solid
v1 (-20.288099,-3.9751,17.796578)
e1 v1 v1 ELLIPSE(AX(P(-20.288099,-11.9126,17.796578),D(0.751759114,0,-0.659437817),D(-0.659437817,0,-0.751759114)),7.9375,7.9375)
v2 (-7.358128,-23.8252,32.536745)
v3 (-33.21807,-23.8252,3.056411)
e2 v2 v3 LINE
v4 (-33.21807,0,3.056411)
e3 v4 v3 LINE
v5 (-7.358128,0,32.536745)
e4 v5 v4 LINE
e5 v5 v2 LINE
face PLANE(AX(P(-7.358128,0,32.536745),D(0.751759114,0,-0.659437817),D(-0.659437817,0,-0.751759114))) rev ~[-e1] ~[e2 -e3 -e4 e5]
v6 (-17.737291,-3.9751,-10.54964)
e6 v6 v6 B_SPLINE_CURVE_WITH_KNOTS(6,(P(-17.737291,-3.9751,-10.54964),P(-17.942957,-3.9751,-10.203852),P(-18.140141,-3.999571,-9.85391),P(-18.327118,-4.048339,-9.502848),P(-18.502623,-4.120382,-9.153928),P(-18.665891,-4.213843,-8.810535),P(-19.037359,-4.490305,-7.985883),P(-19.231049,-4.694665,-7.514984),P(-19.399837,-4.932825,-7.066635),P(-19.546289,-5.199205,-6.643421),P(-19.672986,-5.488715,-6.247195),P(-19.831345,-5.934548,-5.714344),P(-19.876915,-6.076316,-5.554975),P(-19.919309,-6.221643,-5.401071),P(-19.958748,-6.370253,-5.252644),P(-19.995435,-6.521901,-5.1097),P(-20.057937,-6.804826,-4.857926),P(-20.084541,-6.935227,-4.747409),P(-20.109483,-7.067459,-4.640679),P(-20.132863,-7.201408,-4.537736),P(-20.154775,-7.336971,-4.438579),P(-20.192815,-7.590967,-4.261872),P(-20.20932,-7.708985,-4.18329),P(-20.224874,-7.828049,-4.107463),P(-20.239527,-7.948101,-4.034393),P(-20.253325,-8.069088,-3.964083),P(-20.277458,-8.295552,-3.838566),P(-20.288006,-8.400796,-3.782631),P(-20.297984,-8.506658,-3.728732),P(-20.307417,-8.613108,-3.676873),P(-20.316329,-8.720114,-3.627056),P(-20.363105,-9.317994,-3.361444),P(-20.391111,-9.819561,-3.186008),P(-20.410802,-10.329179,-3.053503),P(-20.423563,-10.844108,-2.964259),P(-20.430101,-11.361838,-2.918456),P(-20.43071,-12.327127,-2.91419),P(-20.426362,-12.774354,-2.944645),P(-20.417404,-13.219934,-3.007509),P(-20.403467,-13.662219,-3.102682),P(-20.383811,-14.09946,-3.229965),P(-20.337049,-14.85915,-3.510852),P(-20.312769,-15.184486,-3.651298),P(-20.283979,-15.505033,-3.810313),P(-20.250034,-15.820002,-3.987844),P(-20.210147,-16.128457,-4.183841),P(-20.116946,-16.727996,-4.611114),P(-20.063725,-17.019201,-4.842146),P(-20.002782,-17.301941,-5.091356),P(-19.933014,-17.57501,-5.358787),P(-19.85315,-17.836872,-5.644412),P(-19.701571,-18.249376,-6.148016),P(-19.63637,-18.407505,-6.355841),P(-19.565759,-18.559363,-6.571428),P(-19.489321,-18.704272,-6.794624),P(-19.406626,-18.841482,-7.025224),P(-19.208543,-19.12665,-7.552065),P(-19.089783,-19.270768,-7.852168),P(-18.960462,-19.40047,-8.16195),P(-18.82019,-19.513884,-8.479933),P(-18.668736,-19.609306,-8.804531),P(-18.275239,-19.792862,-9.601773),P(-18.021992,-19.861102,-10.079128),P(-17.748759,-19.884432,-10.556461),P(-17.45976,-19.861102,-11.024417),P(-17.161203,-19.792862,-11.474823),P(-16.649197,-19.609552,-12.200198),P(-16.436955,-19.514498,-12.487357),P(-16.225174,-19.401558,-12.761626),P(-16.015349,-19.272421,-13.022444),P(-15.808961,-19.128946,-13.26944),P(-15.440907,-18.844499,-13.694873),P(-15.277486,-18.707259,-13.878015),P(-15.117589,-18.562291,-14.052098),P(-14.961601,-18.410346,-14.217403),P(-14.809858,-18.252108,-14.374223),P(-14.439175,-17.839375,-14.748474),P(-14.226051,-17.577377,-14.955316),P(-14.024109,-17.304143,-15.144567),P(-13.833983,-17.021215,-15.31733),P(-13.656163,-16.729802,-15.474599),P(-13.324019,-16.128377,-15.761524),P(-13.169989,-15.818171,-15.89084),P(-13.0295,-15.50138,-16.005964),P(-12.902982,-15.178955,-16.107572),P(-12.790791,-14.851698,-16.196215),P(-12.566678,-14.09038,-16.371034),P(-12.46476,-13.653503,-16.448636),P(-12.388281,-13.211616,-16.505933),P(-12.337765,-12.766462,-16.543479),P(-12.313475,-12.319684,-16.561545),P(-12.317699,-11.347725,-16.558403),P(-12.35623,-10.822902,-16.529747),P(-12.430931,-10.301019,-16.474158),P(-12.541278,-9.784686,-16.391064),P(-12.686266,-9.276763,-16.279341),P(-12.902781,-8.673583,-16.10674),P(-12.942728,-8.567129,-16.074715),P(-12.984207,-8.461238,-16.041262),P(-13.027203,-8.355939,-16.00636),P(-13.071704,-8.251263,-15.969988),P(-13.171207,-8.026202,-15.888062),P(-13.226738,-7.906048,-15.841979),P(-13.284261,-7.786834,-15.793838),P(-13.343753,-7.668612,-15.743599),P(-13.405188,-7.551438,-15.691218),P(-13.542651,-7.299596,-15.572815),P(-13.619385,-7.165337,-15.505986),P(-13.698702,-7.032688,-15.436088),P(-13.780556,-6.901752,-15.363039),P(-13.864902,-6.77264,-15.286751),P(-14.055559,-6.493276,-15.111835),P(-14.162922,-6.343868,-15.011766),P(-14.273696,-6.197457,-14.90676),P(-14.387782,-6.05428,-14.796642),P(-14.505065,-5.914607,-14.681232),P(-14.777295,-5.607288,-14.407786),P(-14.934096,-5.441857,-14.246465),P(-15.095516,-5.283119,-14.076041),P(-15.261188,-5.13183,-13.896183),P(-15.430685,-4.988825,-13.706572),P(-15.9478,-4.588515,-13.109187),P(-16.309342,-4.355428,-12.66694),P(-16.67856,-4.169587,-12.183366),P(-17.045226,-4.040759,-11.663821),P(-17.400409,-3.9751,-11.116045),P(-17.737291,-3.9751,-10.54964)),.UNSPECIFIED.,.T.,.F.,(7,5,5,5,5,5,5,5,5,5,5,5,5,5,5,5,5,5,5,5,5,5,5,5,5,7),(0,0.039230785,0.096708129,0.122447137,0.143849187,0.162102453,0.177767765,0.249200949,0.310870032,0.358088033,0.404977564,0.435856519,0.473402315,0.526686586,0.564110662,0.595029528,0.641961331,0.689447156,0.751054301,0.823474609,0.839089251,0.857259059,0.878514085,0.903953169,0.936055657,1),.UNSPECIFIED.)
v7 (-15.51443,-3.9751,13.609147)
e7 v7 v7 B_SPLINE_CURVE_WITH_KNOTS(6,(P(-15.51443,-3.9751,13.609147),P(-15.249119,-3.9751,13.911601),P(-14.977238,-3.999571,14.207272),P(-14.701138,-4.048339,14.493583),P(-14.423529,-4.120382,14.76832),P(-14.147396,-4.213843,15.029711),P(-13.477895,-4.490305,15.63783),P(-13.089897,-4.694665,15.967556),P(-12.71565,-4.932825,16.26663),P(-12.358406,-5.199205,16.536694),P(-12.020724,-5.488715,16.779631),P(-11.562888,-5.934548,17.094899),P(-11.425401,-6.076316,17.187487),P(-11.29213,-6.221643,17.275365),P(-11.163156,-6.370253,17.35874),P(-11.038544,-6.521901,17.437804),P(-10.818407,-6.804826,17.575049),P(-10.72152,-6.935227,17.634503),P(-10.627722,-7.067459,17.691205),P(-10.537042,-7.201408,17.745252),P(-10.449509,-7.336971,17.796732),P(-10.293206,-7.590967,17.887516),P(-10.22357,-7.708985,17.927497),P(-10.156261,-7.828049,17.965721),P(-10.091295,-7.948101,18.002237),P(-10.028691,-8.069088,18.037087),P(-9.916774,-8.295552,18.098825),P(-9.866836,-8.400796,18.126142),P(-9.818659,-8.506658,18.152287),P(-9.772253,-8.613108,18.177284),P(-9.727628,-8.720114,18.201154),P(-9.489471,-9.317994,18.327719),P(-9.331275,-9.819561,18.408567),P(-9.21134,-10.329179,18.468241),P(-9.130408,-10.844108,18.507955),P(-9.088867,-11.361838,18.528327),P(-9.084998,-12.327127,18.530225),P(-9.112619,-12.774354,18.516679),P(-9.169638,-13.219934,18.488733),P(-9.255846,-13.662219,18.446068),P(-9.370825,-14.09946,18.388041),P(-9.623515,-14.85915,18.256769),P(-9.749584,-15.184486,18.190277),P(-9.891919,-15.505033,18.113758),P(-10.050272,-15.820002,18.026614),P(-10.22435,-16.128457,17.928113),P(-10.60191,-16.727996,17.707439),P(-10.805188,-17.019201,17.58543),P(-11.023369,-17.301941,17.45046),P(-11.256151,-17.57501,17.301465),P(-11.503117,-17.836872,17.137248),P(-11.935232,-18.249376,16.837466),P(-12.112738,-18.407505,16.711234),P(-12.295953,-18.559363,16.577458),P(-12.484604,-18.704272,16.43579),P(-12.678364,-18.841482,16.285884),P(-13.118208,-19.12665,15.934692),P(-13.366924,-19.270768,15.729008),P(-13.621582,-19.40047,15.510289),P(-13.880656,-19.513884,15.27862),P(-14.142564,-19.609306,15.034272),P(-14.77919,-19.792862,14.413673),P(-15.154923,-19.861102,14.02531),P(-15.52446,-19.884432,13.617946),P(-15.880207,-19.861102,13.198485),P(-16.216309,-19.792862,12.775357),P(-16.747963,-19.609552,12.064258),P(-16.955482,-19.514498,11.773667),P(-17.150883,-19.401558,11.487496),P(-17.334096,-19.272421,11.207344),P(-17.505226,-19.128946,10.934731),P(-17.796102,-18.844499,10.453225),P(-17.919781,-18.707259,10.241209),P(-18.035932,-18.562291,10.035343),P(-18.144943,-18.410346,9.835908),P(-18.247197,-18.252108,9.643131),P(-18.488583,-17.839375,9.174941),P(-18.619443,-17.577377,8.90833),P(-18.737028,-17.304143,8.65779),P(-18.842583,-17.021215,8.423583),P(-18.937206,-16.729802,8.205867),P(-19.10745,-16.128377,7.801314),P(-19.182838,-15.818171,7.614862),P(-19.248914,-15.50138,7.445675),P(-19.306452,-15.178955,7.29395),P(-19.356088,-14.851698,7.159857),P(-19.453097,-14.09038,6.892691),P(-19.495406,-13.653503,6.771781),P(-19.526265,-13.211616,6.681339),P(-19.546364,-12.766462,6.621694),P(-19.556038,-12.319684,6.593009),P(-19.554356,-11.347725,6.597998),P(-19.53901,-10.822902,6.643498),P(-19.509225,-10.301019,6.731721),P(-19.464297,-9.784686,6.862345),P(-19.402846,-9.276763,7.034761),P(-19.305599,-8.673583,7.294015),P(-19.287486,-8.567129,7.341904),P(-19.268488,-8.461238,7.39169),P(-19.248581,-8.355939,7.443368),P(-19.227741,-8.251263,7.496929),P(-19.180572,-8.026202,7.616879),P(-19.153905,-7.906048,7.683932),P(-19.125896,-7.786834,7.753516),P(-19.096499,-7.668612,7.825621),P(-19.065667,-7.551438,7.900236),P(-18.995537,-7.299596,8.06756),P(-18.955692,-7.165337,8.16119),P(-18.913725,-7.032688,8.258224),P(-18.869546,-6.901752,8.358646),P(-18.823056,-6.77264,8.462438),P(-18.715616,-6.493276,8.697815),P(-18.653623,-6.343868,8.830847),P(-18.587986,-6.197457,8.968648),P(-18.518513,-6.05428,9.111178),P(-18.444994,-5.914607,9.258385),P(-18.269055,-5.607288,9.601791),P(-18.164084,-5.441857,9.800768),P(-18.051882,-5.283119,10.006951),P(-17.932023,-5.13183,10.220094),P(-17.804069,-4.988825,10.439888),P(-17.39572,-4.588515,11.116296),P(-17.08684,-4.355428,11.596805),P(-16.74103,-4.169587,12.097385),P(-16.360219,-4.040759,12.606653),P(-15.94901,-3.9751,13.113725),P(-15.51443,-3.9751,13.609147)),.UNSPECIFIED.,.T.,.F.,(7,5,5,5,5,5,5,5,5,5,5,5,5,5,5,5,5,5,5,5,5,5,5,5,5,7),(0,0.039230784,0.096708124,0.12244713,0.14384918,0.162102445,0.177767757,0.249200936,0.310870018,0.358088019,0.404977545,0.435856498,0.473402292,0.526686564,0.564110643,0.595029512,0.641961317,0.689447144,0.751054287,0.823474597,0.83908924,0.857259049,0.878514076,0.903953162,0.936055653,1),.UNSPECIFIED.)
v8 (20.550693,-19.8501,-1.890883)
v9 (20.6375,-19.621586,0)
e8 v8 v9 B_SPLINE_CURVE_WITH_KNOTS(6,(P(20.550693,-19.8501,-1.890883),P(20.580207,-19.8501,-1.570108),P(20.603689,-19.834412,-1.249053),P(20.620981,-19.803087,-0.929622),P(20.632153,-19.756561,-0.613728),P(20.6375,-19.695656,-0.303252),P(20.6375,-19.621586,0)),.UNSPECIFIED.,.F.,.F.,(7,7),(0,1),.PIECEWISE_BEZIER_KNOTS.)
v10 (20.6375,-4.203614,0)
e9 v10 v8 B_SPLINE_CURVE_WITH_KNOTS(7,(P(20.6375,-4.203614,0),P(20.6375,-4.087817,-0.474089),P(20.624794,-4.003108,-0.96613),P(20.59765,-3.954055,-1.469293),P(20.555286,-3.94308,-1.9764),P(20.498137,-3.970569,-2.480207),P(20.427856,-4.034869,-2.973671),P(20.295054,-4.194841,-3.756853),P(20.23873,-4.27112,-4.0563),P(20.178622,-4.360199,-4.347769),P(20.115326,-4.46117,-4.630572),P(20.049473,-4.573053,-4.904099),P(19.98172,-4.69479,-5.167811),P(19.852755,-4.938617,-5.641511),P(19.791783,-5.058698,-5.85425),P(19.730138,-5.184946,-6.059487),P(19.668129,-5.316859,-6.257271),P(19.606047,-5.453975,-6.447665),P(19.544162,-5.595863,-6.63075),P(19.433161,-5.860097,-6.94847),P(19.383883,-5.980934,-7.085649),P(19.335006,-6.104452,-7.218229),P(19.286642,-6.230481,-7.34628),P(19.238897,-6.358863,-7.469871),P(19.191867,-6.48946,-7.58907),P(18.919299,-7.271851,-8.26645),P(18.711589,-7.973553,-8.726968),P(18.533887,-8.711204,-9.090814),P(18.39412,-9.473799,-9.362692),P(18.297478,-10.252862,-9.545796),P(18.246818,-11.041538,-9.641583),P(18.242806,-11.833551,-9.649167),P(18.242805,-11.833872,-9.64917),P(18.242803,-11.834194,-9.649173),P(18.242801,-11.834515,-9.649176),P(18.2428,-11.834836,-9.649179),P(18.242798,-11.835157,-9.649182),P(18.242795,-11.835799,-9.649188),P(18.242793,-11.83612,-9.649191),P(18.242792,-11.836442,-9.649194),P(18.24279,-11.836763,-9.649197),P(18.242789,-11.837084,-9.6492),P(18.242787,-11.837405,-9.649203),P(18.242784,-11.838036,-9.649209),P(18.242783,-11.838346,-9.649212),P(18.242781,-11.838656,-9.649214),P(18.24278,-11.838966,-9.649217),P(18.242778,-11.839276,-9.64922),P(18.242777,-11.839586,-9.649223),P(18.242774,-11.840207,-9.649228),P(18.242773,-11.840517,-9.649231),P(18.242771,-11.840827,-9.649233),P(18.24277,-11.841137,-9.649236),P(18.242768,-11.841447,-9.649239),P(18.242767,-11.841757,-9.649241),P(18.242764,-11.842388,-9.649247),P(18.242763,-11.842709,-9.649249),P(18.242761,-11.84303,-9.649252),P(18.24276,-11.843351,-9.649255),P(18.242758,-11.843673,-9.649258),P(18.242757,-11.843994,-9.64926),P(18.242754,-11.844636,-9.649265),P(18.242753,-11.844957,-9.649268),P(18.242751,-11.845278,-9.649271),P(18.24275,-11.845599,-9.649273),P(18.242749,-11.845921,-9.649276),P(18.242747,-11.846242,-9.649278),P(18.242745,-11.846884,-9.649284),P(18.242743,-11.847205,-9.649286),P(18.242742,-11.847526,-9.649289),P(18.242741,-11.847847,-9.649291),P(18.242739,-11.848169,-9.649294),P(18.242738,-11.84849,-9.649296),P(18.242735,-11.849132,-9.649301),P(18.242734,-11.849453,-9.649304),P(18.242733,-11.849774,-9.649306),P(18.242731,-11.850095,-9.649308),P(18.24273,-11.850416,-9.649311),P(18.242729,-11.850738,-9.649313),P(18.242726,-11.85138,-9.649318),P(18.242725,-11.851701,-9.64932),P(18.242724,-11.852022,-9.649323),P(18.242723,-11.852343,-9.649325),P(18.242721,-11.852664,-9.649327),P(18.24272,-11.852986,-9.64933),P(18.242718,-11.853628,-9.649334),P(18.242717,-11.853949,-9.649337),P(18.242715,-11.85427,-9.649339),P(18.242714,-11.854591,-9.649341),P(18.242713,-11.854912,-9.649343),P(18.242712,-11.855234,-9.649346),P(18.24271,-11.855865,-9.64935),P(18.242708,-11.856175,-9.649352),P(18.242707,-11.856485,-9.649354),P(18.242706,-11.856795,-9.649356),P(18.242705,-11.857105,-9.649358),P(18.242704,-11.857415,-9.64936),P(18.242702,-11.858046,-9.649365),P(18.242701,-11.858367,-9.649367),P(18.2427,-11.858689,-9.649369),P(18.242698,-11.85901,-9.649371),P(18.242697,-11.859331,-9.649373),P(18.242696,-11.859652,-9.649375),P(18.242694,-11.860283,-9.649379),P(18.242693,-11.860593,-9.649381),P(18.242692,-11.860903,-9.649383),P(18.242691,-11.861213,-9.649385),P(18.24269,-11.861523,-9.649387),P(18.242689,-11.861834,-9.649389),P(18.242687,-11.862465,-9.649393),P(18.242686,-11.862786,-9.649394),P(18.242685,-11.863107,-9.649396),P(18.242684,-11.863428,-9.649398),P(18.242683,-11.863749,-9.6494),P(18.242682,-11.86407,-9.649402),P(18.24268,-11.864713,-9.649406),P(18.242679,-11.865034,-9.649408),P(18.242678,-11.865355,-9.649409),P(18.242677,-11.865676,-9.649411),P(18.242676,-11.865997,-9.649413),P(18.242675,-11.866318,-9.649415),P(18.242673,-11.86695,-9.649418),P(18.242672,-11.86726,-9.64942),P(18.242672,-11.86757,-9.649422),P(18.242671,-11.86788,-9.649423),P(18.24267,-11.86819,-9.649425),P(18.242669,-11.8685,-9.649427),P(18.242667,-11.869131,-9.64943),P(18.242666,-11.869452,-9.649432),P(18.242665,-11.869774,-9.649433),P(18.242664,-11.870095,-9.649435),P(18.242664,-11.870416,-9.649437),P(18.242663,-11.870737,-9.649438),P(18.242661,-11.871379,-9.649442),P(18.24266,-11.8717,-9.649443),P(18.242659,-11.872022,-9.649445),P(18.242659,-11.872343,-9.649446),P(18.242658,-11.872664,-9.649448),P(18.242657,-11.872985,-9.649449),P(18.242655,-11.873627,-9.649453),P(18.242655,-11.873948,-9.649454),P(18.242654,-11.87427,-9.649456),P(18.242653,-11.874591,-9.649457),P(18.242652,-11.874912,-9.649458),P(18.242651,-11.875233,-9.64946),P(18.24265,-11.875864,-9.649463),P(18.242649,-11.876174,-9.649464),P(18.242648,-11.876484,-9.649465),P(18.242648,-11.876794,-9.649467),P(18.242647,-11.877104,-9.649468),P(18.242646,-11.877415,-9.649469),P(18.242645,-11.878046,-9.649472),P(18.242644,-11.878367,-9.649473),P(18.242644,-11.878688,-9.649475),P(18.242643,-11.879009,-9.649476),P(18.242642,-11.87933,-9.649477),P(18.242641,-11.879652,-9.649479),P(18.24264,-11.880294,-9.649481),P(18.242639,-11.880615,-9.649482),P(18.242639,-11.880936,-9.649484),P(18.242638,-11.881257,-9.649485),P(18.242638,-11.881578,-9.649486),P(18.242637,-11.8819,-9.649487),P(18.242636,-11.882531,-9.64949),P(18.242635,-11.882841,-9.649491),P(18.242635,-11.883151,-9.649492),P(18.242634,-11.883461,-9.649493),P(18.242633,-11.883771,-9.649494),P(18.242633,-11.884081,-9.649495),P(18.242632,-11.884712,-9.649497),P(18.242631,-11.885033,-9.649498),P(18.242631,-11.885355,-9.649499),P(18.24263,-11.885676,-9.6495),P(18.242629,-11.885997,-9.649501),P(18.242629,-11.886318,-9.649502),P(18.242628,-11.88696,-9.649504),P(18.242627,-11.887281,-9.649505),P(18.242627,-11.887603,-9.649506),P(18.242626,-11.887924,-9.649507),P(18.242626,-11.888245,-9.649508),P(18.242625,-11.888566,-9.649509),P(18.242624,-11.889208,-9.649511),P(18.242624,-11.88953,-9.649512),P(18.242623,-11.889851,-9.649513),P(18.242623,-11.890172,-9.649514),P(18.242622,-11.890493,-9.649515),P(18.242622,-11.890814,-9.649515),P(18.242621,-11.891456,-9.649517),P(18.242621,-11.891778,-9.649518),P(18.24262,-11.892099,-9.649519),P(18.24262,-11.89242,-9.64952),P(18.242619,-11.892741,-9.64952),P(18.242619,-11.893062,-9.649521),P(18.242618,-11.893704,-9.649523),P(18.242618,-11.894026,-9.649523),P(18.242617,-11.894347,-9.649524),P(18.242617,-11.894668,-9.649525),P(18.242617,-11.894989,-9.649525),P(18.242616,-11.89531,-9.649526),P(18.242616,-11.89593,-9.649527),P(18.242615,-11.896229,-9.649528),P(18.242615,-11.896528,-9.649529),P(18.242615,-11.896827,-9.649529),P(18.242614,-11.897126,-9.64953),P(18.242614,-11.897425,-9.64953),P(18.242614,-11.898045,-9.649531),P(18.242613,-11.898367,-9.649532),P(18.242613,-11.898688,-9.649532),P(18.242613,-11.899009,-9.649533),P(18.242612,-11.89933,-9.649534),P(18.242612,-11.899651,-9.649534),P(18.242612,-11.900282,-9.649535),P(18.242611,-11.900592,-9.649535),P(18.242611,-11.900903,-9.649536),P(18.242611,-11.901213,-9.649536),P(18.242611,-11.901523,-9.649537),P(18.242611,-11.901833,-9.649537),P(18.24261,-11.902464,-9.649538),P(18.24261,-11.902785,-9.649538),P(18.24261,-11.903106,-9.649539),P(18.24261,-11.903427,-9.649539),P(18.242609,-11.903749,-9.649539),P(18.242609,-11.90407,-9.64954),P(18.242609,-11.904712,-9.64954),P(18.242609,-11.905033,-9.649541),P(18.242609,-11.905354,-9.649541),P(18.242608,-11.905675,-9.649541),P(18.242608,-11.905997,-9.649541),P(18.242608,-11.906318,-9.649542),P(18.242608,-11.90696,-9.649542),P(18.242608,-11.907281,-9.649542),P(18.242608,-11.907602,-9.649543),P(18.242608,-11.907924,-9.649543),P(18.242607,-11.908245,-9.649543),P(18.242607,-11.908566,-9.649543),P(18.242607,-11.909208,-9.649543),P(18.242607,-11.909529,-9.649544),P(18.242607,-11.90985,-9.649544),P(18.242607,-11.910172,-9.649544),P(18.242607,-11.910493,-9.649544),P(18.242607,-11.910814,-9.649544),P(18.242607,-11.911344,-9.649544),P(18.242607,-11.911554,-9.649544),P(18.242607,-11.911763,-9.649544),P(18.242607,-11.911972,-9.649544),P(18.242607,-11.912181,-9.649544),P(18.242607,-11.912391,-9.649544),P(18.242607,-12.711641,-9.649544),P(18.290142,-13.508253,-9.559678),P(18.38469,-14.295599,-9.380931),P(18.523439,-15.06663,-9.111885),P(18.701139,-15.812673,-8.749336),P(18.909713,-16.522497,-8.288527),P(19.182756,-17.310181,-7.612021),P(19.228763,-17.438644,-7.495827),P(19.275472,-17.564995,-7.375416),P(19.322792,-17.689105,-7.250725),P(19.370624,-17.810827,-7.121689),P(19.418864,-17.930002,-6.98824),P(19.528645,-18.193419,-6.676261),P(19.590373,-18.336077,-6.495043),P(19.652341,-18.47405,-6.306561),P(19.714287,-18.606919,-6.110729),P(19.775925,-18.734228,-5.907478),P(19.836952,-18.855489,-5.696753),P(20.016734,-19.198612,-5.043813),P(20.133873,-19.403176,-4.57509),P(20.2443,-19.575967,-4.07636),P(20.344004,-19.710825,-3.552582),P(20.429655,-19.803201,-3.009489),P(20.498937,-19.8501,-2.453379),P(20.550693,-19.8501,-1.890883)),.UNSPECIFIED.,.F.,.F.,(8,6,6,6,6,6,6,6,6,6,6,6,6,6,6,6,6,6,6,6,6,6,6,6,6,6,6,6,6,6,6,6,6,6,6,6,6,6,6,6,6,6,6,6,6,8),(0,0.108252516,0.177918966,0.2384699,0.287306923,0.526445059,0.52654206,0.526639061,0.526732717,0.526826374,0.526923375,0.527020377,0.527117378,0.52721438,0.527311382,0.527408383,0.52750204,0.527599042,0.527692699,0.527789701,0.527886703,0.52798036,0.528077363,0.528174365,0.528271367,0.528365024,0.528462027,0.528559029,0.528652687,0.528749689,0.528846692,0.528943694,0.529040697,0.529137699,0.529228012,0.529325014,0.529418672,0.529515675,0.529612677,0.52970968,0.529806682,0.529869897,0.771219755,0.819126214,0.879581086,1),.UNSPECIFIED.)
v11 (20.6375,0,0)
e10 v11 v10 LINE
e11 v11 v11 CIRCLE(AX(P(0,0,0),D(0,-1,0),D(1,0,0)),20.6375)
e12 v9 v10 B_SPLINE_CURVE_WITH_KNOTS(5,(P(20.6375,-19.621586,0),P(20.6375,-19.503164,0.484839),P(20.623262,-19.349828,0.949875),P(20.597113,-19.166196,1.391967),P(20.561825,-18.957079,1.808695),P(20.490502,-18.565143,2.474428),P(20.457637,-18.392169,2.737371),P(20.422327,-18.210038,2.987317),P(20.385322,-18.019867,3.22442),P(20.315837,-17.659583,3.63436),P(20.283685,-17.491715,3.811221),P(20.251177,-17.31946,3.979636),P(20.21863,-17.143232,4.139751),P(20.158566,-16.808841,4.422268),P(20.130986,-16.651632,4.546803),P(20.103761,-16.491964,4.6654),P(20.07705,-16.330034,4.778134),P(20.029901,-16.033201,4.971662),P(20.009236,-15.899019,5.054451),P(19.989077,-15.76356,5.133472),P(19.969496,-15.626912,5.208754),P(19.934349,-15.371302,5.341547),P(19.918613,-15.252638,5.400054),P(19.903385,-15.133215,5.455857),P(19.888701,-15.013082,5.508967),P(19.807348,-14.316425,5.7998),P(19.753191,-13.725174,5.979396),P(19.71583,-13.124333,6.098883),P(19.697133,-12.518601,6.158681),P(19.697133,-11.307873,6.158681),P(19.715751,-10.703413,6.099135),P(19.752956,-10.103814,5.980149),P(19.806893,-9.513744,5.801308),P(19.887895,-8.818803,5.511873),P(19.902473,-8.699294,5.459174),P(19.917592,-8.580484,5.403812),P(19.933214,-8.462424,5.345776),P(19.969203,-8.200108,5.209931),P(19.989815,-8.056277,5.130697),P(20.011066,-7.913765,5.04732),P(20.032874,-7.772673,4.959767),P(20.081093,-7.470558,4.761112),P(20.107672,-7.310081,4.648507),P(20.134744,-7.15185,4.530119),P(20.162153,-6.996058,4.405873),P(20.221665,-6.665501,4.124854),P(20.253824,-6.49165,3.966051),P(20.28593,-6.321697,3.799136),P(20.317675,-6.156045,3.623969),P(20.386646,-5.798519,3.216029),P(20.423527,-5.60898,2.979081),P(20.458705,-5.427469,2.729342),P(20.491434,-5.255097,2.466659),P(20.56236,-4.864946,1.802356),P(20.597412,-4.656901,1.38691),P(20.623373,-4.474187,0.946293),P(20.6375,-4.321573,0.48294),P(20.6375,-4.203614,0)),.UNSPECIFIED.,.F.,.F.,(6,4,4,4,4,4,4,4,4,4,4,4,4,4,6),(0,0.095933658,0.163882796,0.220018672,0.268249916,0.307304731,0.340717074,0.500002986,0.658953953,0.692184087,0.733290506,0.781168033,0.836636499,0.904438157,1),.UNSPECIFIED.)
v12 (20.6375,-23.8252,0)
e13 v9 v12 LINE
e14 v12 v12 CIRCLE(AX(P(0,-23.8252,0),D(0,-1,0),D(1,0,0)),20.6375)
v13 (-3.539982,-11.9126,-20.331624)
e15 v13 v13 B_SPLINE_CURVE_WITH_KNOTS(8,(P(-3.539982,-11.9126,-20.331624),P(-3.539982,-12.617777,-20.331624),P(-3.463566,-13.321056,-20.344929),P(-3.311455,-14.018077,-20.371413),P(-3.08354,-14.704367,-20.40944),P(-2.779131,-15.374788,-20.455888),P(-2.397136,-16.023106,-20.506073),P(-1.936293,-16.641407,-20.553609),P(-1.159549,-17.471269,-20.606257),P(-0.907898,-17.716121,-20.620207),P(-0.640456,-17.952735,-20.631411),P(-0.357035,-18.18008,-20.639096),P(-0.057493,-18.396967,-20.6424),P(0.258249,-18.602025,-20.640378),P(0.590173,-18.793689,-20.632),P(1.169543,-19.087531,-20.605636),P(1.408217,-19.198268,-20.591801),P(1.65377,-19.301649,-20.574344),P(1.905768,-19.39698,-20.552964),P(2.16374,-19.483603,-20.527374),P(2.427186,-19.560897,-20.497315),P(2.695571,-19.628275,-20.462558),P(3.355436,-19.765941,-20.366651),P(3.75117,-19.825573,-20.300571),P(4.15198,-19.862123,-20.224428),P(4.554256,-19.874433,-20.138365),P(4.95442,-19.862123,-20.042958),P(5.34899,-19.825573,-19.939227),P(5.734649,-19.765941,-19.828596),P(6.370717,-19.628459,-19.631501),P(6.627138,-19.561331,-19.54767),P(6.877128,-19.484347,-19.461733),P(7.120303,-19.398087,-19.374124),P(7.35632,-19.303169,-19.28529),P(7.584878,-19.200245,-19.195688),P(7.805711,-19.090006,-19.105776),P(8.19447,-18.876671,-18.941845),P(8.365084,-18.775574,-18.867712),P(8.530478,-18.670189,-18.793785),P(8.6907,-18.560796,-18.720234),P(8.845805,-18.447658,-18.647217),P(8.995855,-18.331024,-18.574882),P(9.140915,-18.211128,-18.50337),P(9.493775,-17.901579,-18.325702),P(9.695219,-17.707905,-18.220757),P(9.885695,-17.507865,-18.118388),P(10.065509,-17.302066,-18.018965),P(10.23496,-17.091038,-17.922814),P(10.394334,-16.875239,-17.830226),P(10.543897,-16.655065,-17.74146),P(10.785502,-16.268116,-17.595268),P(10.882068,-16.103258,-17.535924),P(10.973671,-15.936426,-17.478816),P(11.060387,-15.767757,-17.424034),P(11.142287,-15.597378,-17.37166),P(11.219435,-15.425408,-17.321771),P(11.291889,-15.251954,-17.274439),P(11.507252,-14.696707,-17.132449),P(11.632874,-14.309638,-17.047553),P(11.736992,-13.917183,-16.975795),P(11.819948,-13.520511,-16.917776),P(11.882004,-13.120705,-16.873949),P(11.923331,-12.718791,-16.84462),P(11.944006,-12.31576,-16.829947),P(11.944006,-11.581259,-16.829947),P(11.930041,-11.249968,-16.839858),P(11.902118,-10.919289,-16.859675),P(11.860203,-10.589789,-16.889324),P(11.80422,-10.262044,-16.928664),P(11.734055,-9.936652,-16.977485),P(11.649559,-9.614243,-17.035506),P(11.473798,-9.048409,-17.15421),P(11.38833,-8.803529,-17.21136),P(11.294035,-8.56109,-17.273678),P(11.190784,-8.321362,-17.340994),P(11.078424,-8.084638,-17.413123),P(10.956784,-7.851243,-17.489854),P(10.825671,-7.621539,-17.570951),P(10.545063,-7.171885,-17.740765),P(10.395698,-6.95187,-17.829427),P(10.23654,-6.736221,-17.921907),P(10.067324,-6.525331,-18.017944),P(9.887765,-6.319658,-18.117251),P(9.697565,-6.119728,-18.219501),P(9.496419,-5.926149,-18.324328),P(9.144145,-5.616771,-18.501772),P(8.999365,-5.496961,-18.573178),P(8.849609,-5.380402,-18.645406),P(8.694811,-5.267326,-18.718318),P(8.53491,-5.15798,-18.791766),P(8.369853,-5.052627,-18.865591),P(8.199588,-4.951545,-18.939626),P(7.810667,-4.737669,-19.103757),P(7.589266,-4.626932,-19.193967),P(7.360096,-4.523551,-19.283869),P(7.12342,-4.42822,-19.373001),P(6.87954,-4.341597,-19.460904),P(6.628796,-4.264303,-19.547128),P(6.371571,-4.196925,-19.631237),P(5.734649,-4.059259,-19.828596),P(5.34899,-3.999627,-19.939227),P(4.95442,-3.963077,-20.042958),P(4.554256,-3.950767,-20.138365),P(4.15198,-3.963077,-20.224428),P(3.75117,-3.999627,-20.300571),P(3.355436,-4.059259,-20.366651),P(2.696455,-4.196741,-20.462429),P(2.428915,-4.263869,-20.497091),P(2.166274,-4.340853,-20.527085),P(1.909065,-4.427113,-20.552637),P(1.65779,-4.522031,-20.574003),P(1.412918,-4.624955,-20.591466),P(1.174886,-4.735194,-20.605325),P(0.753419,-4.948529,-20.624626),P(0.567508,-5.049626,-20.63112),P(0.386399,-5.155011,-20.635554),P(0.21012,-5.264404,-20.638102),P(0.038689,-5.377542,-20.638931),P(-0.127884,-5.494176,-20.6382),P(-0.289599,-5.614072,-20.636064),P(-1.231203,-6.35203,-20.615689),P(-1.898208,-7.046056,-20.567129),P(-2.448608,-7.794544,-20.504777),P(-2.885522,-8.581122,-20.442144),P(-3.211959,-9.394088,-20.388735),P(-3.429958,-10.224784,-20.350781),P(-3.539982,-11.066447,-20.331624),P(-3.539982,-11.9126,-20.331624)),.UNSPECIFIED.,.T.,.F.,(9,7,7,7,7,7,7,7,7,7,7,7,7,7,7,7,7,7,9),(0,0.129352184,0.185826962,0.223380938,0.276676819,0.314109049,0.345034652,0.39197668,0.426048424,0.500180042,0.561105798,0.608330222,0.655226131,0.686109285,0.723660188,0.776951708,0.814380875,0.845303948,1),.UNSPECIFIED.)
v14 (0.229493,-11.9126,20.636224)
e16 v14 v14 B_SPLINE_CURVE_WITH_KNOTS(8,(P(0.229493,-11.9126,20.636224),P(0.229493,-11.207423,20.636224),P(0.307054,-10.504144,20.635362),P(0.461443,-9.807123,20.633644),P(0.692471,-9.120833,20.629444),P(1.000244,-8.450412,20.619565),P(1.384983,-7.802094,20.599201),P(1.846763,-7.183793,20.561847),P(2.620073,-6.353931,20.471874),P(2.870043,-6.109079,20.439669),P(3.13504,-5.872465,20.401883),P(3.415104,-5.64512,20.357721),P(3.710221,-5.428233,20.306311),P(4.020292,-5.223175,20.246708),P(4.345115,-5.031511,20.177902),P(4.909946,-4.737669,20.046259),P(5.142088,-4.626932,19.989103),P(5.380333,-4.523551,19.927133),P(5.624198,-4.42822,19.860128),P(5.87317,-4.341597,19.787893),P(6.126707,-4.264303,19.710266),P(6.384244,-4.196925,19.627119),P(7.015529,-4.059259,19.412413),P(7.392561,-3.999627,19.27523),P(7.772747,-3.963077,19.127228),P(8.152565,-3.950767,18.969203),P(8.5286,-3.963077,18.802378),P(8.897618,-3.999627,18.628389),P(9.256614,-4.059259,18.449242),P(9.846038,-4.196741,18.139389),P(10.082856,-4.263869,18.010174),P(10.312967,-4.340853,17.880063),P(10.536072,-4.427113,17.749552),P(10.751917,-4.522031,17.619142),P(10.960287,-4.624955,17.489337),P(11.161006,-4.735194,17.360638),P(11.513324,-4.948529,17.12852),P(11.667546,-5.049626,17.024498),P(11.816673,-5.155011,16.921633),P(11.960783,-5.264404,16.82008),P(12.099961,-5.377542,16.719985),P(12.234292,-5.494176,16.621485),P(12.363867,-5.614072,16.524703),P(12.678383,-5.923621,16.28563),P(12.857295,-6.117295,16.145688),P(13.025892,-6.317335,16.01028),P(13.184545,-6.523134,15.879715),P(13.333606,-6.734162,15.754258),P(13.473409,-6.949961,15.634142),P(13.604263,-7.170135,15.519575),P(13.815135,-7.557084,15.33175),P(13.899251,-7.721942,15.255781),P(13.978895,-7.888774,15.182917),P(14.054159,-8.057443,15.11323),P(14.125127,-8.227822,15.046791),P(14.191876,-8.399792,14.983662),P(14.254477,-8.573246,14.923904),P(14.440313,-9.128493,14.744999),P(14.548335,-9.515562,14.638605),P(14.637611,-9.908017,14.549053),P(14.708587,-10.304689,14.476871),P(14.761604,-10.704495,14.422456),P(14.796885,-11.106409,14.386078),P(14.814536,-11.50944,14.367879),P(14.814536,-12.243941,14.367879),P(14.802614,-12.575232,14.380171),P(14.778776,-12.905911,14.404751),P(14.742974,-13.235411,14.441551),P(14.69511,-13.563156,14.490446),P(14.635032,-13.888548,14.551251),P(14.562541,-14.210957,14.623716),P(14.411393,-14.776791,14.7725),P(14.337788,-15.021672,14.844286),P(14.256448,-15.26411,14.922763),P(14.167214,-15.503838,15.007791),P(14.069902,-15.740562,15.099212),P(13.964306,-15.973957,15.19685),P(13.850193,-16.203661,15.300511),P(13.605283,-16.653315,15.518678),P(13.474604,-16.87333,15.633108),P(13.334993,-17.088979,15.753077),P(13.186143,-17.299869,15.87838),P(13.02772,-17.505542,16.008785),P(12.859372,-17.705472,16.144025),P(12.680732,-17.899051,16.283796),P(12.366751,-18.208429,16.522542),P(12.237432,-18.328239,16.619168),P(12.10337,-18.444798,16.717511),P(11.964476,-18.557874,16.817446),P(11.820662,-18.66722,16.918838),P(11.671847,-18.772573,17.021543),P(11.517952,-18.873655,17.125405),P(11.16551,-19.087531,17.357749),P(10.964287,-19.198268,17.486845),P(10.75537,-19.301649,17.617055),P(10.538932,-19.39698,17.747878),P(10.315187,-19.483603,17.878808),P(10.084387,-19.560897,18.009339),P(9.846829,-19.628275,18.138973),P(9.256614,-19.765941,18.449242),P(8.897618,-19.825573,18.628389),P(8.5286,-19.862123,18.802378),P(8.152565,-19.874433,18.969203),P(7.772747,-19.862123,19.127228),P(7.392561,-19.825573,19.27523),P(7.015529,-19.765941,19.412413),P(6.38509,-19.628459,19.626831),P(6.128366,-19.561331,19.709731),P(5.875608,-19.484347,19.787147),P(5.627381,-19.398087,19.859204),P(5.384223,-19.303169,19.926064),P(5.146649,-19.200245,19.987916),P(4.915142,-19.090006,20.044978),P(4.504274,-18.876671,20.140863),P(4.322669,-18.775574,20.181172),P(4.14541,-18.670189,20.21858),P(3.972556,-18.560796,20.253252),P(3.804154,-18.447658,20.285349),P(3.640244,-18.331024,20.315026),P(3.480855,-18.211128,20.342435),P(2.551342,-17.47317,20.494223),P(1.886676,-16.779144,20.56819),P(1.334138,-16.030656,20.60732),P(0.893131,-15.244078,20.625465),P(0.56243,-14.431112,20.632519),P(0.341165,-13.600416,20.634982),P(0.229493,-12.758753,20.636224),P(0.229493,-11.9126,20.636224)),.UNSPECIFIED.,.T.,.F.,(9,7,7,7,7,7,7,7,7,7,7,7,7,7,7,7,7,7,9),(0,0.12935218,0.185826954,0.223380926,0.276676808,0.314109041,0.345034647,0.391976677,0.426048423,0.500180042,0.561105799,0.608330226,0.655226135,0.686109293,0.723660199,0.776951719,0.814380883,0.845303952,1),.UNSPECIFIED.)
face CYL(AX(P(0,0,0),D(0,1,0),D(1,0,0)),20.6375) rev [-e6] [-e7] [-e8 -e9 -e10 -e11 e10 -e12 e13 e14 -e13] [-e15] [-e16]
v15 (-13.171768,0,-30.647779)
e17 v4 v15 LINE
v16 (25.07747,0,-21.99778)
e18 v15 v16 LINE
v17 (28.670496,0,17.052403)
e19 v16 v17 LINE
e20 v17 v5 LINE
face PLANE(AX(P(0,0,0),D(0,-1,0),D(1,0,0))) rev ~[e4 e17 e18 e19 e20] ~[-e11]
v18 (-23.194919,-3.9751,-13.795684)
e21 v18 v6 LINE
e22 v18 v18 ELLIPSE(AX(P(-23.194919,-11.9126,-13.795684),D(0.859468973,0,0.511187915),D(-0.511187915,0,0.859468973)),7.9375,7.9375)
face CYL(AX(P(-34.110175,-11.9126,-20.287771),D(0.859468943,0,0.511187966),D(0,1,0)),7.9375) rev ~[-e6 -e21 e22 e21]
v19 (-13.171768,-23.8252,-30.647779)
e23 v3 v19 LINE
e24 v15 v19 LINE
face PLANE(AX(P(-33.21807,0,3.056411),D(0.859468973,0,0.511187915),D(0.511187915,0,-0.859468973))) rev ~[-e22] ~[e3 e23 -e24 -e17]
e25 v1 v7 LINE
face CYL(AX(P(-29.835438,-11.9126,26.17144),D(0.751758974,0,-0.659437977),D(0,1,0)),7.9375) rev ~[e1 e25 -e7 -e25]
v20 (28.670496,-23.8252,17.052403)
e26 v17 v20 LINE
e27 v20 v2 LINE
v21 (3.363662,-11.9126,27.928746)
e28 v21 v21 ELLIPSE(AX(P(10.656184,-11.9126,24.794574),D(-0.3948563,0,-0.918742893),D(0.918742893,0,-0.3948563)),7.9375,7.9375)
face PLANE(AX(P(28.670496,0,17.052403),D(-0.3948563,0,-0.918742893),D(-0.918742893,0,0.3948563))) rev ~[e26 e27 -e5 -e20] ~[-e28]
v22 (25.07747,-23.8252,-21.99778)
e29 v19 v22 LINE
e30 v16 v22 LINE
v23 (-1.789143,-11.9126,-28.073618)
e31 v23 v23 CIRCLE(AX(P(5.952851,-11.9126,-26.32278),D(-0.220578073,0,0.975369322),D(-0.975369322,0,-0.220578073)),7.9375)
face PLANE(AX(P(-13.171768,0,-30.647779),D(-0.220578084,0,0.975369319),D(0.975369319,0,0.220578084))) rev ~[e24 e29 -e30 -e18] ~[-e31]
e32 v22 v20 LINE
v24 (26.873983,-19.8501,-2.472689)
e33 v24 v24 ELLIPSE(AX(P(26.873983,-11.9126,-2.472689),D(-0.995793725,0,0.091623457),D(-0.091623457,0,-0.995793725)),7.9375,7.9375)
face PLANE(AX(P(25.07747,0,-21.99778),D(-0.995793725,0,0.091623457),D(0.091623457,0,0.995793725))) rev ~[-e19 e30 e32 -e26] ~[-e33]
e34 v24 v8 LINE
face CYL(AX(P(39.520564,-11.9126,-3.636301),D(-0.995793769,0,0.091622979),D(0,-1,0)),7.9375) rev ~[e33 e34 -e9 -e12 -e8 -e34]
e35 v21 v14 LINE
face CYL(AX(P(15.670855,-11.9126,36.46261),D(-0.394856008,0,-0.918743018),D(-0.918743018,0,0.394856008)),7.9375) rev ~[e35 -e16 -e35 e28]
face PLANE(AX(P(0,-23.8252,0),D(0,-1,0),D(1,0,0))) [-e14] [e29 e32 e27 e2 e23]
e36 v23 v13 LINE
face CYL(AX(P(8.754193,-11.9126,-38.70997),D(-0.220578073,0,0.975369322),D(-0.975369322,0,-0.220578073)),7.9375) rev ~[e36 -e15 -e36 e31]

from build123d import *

# Parameters (mm, degrees)
F0_R      = 20.6375
F1_DEPTH  = 23.8252
F3_D      = 15.875
F3_DEPTH  = 12.7
F5_D      = 15.875
F5_DEPTH  = 12.7
F7_D      = 15.875
F7_DEPTH  = 12.7
F9_D      = 15.875
F9_DEPTH  = 12.7
F11_D     = 15.875
F11_DEPTH = 12.7


with BuildPart() as f1:
    # F0 (on Front) → F1 (new body)
    with BuildSketch(Plane.XZ):
        Polygon((-7.358128, 32.536745), (-33.21807, 3.056411), (-13.171768, -30.647779), (25.07747, -21.99778), (28.670496, 17.052403), align=None)
        Circle(F0_R, mode=Mode.SUBTRACT)
    extrude(amount=F1_DEPTH)

    # F3
    with Locations(Plane(origin=(26.873983, 0, -2.472689), x_dir=(0, 1, 0), z_dir=(0.995794, 0, -0.091623))):
        with Locations((-11.9126, 0)):
            Hole(F3_D / 2, depth=F3_DEPTH)

    # F5
    with Locations(Plane(origin=(10.656184, 0, 24.794574), x_dir=(0.918743, 0, -0.394856), z_dir=(0.394856, 0, 0.918743))):
        with Locations((0, -11.9126)):
            Hole(F5_D / 2, depth=F5_DEPTH)

    # F7
    with Locations(Plane(origin=(-23.194919, 0, -13.795684), x_dir=(0, -1, 0), z_dir=(-0.859469, 0, -0.511188))):
        with Locations((11.9126, 0)):
            Hole(F7_D / 2, depth=F7_DEPTH)

    # F9
    with Locations(Plane(origin=(-20.288099, 0, 17.796578), x_dir=(0, -1, 0), z_dir=(-0.751759, 0, 0.659438))):
        with Locations((11.9126, 0)):
            Hole(F9_D / 2, depth=F9_DEPTH)

    # F11
    with Locations(Plane(origin=(5.952851, 0, -26.32278), x_dir=(0.975369, 0, 0.220578), z_dir=(0.220578, 0, -0.975369))):
        with Locations((0, 11.9126)):
            Hole(F11_D / 2, depth=F11_DEPTH)


solid = f1.part
